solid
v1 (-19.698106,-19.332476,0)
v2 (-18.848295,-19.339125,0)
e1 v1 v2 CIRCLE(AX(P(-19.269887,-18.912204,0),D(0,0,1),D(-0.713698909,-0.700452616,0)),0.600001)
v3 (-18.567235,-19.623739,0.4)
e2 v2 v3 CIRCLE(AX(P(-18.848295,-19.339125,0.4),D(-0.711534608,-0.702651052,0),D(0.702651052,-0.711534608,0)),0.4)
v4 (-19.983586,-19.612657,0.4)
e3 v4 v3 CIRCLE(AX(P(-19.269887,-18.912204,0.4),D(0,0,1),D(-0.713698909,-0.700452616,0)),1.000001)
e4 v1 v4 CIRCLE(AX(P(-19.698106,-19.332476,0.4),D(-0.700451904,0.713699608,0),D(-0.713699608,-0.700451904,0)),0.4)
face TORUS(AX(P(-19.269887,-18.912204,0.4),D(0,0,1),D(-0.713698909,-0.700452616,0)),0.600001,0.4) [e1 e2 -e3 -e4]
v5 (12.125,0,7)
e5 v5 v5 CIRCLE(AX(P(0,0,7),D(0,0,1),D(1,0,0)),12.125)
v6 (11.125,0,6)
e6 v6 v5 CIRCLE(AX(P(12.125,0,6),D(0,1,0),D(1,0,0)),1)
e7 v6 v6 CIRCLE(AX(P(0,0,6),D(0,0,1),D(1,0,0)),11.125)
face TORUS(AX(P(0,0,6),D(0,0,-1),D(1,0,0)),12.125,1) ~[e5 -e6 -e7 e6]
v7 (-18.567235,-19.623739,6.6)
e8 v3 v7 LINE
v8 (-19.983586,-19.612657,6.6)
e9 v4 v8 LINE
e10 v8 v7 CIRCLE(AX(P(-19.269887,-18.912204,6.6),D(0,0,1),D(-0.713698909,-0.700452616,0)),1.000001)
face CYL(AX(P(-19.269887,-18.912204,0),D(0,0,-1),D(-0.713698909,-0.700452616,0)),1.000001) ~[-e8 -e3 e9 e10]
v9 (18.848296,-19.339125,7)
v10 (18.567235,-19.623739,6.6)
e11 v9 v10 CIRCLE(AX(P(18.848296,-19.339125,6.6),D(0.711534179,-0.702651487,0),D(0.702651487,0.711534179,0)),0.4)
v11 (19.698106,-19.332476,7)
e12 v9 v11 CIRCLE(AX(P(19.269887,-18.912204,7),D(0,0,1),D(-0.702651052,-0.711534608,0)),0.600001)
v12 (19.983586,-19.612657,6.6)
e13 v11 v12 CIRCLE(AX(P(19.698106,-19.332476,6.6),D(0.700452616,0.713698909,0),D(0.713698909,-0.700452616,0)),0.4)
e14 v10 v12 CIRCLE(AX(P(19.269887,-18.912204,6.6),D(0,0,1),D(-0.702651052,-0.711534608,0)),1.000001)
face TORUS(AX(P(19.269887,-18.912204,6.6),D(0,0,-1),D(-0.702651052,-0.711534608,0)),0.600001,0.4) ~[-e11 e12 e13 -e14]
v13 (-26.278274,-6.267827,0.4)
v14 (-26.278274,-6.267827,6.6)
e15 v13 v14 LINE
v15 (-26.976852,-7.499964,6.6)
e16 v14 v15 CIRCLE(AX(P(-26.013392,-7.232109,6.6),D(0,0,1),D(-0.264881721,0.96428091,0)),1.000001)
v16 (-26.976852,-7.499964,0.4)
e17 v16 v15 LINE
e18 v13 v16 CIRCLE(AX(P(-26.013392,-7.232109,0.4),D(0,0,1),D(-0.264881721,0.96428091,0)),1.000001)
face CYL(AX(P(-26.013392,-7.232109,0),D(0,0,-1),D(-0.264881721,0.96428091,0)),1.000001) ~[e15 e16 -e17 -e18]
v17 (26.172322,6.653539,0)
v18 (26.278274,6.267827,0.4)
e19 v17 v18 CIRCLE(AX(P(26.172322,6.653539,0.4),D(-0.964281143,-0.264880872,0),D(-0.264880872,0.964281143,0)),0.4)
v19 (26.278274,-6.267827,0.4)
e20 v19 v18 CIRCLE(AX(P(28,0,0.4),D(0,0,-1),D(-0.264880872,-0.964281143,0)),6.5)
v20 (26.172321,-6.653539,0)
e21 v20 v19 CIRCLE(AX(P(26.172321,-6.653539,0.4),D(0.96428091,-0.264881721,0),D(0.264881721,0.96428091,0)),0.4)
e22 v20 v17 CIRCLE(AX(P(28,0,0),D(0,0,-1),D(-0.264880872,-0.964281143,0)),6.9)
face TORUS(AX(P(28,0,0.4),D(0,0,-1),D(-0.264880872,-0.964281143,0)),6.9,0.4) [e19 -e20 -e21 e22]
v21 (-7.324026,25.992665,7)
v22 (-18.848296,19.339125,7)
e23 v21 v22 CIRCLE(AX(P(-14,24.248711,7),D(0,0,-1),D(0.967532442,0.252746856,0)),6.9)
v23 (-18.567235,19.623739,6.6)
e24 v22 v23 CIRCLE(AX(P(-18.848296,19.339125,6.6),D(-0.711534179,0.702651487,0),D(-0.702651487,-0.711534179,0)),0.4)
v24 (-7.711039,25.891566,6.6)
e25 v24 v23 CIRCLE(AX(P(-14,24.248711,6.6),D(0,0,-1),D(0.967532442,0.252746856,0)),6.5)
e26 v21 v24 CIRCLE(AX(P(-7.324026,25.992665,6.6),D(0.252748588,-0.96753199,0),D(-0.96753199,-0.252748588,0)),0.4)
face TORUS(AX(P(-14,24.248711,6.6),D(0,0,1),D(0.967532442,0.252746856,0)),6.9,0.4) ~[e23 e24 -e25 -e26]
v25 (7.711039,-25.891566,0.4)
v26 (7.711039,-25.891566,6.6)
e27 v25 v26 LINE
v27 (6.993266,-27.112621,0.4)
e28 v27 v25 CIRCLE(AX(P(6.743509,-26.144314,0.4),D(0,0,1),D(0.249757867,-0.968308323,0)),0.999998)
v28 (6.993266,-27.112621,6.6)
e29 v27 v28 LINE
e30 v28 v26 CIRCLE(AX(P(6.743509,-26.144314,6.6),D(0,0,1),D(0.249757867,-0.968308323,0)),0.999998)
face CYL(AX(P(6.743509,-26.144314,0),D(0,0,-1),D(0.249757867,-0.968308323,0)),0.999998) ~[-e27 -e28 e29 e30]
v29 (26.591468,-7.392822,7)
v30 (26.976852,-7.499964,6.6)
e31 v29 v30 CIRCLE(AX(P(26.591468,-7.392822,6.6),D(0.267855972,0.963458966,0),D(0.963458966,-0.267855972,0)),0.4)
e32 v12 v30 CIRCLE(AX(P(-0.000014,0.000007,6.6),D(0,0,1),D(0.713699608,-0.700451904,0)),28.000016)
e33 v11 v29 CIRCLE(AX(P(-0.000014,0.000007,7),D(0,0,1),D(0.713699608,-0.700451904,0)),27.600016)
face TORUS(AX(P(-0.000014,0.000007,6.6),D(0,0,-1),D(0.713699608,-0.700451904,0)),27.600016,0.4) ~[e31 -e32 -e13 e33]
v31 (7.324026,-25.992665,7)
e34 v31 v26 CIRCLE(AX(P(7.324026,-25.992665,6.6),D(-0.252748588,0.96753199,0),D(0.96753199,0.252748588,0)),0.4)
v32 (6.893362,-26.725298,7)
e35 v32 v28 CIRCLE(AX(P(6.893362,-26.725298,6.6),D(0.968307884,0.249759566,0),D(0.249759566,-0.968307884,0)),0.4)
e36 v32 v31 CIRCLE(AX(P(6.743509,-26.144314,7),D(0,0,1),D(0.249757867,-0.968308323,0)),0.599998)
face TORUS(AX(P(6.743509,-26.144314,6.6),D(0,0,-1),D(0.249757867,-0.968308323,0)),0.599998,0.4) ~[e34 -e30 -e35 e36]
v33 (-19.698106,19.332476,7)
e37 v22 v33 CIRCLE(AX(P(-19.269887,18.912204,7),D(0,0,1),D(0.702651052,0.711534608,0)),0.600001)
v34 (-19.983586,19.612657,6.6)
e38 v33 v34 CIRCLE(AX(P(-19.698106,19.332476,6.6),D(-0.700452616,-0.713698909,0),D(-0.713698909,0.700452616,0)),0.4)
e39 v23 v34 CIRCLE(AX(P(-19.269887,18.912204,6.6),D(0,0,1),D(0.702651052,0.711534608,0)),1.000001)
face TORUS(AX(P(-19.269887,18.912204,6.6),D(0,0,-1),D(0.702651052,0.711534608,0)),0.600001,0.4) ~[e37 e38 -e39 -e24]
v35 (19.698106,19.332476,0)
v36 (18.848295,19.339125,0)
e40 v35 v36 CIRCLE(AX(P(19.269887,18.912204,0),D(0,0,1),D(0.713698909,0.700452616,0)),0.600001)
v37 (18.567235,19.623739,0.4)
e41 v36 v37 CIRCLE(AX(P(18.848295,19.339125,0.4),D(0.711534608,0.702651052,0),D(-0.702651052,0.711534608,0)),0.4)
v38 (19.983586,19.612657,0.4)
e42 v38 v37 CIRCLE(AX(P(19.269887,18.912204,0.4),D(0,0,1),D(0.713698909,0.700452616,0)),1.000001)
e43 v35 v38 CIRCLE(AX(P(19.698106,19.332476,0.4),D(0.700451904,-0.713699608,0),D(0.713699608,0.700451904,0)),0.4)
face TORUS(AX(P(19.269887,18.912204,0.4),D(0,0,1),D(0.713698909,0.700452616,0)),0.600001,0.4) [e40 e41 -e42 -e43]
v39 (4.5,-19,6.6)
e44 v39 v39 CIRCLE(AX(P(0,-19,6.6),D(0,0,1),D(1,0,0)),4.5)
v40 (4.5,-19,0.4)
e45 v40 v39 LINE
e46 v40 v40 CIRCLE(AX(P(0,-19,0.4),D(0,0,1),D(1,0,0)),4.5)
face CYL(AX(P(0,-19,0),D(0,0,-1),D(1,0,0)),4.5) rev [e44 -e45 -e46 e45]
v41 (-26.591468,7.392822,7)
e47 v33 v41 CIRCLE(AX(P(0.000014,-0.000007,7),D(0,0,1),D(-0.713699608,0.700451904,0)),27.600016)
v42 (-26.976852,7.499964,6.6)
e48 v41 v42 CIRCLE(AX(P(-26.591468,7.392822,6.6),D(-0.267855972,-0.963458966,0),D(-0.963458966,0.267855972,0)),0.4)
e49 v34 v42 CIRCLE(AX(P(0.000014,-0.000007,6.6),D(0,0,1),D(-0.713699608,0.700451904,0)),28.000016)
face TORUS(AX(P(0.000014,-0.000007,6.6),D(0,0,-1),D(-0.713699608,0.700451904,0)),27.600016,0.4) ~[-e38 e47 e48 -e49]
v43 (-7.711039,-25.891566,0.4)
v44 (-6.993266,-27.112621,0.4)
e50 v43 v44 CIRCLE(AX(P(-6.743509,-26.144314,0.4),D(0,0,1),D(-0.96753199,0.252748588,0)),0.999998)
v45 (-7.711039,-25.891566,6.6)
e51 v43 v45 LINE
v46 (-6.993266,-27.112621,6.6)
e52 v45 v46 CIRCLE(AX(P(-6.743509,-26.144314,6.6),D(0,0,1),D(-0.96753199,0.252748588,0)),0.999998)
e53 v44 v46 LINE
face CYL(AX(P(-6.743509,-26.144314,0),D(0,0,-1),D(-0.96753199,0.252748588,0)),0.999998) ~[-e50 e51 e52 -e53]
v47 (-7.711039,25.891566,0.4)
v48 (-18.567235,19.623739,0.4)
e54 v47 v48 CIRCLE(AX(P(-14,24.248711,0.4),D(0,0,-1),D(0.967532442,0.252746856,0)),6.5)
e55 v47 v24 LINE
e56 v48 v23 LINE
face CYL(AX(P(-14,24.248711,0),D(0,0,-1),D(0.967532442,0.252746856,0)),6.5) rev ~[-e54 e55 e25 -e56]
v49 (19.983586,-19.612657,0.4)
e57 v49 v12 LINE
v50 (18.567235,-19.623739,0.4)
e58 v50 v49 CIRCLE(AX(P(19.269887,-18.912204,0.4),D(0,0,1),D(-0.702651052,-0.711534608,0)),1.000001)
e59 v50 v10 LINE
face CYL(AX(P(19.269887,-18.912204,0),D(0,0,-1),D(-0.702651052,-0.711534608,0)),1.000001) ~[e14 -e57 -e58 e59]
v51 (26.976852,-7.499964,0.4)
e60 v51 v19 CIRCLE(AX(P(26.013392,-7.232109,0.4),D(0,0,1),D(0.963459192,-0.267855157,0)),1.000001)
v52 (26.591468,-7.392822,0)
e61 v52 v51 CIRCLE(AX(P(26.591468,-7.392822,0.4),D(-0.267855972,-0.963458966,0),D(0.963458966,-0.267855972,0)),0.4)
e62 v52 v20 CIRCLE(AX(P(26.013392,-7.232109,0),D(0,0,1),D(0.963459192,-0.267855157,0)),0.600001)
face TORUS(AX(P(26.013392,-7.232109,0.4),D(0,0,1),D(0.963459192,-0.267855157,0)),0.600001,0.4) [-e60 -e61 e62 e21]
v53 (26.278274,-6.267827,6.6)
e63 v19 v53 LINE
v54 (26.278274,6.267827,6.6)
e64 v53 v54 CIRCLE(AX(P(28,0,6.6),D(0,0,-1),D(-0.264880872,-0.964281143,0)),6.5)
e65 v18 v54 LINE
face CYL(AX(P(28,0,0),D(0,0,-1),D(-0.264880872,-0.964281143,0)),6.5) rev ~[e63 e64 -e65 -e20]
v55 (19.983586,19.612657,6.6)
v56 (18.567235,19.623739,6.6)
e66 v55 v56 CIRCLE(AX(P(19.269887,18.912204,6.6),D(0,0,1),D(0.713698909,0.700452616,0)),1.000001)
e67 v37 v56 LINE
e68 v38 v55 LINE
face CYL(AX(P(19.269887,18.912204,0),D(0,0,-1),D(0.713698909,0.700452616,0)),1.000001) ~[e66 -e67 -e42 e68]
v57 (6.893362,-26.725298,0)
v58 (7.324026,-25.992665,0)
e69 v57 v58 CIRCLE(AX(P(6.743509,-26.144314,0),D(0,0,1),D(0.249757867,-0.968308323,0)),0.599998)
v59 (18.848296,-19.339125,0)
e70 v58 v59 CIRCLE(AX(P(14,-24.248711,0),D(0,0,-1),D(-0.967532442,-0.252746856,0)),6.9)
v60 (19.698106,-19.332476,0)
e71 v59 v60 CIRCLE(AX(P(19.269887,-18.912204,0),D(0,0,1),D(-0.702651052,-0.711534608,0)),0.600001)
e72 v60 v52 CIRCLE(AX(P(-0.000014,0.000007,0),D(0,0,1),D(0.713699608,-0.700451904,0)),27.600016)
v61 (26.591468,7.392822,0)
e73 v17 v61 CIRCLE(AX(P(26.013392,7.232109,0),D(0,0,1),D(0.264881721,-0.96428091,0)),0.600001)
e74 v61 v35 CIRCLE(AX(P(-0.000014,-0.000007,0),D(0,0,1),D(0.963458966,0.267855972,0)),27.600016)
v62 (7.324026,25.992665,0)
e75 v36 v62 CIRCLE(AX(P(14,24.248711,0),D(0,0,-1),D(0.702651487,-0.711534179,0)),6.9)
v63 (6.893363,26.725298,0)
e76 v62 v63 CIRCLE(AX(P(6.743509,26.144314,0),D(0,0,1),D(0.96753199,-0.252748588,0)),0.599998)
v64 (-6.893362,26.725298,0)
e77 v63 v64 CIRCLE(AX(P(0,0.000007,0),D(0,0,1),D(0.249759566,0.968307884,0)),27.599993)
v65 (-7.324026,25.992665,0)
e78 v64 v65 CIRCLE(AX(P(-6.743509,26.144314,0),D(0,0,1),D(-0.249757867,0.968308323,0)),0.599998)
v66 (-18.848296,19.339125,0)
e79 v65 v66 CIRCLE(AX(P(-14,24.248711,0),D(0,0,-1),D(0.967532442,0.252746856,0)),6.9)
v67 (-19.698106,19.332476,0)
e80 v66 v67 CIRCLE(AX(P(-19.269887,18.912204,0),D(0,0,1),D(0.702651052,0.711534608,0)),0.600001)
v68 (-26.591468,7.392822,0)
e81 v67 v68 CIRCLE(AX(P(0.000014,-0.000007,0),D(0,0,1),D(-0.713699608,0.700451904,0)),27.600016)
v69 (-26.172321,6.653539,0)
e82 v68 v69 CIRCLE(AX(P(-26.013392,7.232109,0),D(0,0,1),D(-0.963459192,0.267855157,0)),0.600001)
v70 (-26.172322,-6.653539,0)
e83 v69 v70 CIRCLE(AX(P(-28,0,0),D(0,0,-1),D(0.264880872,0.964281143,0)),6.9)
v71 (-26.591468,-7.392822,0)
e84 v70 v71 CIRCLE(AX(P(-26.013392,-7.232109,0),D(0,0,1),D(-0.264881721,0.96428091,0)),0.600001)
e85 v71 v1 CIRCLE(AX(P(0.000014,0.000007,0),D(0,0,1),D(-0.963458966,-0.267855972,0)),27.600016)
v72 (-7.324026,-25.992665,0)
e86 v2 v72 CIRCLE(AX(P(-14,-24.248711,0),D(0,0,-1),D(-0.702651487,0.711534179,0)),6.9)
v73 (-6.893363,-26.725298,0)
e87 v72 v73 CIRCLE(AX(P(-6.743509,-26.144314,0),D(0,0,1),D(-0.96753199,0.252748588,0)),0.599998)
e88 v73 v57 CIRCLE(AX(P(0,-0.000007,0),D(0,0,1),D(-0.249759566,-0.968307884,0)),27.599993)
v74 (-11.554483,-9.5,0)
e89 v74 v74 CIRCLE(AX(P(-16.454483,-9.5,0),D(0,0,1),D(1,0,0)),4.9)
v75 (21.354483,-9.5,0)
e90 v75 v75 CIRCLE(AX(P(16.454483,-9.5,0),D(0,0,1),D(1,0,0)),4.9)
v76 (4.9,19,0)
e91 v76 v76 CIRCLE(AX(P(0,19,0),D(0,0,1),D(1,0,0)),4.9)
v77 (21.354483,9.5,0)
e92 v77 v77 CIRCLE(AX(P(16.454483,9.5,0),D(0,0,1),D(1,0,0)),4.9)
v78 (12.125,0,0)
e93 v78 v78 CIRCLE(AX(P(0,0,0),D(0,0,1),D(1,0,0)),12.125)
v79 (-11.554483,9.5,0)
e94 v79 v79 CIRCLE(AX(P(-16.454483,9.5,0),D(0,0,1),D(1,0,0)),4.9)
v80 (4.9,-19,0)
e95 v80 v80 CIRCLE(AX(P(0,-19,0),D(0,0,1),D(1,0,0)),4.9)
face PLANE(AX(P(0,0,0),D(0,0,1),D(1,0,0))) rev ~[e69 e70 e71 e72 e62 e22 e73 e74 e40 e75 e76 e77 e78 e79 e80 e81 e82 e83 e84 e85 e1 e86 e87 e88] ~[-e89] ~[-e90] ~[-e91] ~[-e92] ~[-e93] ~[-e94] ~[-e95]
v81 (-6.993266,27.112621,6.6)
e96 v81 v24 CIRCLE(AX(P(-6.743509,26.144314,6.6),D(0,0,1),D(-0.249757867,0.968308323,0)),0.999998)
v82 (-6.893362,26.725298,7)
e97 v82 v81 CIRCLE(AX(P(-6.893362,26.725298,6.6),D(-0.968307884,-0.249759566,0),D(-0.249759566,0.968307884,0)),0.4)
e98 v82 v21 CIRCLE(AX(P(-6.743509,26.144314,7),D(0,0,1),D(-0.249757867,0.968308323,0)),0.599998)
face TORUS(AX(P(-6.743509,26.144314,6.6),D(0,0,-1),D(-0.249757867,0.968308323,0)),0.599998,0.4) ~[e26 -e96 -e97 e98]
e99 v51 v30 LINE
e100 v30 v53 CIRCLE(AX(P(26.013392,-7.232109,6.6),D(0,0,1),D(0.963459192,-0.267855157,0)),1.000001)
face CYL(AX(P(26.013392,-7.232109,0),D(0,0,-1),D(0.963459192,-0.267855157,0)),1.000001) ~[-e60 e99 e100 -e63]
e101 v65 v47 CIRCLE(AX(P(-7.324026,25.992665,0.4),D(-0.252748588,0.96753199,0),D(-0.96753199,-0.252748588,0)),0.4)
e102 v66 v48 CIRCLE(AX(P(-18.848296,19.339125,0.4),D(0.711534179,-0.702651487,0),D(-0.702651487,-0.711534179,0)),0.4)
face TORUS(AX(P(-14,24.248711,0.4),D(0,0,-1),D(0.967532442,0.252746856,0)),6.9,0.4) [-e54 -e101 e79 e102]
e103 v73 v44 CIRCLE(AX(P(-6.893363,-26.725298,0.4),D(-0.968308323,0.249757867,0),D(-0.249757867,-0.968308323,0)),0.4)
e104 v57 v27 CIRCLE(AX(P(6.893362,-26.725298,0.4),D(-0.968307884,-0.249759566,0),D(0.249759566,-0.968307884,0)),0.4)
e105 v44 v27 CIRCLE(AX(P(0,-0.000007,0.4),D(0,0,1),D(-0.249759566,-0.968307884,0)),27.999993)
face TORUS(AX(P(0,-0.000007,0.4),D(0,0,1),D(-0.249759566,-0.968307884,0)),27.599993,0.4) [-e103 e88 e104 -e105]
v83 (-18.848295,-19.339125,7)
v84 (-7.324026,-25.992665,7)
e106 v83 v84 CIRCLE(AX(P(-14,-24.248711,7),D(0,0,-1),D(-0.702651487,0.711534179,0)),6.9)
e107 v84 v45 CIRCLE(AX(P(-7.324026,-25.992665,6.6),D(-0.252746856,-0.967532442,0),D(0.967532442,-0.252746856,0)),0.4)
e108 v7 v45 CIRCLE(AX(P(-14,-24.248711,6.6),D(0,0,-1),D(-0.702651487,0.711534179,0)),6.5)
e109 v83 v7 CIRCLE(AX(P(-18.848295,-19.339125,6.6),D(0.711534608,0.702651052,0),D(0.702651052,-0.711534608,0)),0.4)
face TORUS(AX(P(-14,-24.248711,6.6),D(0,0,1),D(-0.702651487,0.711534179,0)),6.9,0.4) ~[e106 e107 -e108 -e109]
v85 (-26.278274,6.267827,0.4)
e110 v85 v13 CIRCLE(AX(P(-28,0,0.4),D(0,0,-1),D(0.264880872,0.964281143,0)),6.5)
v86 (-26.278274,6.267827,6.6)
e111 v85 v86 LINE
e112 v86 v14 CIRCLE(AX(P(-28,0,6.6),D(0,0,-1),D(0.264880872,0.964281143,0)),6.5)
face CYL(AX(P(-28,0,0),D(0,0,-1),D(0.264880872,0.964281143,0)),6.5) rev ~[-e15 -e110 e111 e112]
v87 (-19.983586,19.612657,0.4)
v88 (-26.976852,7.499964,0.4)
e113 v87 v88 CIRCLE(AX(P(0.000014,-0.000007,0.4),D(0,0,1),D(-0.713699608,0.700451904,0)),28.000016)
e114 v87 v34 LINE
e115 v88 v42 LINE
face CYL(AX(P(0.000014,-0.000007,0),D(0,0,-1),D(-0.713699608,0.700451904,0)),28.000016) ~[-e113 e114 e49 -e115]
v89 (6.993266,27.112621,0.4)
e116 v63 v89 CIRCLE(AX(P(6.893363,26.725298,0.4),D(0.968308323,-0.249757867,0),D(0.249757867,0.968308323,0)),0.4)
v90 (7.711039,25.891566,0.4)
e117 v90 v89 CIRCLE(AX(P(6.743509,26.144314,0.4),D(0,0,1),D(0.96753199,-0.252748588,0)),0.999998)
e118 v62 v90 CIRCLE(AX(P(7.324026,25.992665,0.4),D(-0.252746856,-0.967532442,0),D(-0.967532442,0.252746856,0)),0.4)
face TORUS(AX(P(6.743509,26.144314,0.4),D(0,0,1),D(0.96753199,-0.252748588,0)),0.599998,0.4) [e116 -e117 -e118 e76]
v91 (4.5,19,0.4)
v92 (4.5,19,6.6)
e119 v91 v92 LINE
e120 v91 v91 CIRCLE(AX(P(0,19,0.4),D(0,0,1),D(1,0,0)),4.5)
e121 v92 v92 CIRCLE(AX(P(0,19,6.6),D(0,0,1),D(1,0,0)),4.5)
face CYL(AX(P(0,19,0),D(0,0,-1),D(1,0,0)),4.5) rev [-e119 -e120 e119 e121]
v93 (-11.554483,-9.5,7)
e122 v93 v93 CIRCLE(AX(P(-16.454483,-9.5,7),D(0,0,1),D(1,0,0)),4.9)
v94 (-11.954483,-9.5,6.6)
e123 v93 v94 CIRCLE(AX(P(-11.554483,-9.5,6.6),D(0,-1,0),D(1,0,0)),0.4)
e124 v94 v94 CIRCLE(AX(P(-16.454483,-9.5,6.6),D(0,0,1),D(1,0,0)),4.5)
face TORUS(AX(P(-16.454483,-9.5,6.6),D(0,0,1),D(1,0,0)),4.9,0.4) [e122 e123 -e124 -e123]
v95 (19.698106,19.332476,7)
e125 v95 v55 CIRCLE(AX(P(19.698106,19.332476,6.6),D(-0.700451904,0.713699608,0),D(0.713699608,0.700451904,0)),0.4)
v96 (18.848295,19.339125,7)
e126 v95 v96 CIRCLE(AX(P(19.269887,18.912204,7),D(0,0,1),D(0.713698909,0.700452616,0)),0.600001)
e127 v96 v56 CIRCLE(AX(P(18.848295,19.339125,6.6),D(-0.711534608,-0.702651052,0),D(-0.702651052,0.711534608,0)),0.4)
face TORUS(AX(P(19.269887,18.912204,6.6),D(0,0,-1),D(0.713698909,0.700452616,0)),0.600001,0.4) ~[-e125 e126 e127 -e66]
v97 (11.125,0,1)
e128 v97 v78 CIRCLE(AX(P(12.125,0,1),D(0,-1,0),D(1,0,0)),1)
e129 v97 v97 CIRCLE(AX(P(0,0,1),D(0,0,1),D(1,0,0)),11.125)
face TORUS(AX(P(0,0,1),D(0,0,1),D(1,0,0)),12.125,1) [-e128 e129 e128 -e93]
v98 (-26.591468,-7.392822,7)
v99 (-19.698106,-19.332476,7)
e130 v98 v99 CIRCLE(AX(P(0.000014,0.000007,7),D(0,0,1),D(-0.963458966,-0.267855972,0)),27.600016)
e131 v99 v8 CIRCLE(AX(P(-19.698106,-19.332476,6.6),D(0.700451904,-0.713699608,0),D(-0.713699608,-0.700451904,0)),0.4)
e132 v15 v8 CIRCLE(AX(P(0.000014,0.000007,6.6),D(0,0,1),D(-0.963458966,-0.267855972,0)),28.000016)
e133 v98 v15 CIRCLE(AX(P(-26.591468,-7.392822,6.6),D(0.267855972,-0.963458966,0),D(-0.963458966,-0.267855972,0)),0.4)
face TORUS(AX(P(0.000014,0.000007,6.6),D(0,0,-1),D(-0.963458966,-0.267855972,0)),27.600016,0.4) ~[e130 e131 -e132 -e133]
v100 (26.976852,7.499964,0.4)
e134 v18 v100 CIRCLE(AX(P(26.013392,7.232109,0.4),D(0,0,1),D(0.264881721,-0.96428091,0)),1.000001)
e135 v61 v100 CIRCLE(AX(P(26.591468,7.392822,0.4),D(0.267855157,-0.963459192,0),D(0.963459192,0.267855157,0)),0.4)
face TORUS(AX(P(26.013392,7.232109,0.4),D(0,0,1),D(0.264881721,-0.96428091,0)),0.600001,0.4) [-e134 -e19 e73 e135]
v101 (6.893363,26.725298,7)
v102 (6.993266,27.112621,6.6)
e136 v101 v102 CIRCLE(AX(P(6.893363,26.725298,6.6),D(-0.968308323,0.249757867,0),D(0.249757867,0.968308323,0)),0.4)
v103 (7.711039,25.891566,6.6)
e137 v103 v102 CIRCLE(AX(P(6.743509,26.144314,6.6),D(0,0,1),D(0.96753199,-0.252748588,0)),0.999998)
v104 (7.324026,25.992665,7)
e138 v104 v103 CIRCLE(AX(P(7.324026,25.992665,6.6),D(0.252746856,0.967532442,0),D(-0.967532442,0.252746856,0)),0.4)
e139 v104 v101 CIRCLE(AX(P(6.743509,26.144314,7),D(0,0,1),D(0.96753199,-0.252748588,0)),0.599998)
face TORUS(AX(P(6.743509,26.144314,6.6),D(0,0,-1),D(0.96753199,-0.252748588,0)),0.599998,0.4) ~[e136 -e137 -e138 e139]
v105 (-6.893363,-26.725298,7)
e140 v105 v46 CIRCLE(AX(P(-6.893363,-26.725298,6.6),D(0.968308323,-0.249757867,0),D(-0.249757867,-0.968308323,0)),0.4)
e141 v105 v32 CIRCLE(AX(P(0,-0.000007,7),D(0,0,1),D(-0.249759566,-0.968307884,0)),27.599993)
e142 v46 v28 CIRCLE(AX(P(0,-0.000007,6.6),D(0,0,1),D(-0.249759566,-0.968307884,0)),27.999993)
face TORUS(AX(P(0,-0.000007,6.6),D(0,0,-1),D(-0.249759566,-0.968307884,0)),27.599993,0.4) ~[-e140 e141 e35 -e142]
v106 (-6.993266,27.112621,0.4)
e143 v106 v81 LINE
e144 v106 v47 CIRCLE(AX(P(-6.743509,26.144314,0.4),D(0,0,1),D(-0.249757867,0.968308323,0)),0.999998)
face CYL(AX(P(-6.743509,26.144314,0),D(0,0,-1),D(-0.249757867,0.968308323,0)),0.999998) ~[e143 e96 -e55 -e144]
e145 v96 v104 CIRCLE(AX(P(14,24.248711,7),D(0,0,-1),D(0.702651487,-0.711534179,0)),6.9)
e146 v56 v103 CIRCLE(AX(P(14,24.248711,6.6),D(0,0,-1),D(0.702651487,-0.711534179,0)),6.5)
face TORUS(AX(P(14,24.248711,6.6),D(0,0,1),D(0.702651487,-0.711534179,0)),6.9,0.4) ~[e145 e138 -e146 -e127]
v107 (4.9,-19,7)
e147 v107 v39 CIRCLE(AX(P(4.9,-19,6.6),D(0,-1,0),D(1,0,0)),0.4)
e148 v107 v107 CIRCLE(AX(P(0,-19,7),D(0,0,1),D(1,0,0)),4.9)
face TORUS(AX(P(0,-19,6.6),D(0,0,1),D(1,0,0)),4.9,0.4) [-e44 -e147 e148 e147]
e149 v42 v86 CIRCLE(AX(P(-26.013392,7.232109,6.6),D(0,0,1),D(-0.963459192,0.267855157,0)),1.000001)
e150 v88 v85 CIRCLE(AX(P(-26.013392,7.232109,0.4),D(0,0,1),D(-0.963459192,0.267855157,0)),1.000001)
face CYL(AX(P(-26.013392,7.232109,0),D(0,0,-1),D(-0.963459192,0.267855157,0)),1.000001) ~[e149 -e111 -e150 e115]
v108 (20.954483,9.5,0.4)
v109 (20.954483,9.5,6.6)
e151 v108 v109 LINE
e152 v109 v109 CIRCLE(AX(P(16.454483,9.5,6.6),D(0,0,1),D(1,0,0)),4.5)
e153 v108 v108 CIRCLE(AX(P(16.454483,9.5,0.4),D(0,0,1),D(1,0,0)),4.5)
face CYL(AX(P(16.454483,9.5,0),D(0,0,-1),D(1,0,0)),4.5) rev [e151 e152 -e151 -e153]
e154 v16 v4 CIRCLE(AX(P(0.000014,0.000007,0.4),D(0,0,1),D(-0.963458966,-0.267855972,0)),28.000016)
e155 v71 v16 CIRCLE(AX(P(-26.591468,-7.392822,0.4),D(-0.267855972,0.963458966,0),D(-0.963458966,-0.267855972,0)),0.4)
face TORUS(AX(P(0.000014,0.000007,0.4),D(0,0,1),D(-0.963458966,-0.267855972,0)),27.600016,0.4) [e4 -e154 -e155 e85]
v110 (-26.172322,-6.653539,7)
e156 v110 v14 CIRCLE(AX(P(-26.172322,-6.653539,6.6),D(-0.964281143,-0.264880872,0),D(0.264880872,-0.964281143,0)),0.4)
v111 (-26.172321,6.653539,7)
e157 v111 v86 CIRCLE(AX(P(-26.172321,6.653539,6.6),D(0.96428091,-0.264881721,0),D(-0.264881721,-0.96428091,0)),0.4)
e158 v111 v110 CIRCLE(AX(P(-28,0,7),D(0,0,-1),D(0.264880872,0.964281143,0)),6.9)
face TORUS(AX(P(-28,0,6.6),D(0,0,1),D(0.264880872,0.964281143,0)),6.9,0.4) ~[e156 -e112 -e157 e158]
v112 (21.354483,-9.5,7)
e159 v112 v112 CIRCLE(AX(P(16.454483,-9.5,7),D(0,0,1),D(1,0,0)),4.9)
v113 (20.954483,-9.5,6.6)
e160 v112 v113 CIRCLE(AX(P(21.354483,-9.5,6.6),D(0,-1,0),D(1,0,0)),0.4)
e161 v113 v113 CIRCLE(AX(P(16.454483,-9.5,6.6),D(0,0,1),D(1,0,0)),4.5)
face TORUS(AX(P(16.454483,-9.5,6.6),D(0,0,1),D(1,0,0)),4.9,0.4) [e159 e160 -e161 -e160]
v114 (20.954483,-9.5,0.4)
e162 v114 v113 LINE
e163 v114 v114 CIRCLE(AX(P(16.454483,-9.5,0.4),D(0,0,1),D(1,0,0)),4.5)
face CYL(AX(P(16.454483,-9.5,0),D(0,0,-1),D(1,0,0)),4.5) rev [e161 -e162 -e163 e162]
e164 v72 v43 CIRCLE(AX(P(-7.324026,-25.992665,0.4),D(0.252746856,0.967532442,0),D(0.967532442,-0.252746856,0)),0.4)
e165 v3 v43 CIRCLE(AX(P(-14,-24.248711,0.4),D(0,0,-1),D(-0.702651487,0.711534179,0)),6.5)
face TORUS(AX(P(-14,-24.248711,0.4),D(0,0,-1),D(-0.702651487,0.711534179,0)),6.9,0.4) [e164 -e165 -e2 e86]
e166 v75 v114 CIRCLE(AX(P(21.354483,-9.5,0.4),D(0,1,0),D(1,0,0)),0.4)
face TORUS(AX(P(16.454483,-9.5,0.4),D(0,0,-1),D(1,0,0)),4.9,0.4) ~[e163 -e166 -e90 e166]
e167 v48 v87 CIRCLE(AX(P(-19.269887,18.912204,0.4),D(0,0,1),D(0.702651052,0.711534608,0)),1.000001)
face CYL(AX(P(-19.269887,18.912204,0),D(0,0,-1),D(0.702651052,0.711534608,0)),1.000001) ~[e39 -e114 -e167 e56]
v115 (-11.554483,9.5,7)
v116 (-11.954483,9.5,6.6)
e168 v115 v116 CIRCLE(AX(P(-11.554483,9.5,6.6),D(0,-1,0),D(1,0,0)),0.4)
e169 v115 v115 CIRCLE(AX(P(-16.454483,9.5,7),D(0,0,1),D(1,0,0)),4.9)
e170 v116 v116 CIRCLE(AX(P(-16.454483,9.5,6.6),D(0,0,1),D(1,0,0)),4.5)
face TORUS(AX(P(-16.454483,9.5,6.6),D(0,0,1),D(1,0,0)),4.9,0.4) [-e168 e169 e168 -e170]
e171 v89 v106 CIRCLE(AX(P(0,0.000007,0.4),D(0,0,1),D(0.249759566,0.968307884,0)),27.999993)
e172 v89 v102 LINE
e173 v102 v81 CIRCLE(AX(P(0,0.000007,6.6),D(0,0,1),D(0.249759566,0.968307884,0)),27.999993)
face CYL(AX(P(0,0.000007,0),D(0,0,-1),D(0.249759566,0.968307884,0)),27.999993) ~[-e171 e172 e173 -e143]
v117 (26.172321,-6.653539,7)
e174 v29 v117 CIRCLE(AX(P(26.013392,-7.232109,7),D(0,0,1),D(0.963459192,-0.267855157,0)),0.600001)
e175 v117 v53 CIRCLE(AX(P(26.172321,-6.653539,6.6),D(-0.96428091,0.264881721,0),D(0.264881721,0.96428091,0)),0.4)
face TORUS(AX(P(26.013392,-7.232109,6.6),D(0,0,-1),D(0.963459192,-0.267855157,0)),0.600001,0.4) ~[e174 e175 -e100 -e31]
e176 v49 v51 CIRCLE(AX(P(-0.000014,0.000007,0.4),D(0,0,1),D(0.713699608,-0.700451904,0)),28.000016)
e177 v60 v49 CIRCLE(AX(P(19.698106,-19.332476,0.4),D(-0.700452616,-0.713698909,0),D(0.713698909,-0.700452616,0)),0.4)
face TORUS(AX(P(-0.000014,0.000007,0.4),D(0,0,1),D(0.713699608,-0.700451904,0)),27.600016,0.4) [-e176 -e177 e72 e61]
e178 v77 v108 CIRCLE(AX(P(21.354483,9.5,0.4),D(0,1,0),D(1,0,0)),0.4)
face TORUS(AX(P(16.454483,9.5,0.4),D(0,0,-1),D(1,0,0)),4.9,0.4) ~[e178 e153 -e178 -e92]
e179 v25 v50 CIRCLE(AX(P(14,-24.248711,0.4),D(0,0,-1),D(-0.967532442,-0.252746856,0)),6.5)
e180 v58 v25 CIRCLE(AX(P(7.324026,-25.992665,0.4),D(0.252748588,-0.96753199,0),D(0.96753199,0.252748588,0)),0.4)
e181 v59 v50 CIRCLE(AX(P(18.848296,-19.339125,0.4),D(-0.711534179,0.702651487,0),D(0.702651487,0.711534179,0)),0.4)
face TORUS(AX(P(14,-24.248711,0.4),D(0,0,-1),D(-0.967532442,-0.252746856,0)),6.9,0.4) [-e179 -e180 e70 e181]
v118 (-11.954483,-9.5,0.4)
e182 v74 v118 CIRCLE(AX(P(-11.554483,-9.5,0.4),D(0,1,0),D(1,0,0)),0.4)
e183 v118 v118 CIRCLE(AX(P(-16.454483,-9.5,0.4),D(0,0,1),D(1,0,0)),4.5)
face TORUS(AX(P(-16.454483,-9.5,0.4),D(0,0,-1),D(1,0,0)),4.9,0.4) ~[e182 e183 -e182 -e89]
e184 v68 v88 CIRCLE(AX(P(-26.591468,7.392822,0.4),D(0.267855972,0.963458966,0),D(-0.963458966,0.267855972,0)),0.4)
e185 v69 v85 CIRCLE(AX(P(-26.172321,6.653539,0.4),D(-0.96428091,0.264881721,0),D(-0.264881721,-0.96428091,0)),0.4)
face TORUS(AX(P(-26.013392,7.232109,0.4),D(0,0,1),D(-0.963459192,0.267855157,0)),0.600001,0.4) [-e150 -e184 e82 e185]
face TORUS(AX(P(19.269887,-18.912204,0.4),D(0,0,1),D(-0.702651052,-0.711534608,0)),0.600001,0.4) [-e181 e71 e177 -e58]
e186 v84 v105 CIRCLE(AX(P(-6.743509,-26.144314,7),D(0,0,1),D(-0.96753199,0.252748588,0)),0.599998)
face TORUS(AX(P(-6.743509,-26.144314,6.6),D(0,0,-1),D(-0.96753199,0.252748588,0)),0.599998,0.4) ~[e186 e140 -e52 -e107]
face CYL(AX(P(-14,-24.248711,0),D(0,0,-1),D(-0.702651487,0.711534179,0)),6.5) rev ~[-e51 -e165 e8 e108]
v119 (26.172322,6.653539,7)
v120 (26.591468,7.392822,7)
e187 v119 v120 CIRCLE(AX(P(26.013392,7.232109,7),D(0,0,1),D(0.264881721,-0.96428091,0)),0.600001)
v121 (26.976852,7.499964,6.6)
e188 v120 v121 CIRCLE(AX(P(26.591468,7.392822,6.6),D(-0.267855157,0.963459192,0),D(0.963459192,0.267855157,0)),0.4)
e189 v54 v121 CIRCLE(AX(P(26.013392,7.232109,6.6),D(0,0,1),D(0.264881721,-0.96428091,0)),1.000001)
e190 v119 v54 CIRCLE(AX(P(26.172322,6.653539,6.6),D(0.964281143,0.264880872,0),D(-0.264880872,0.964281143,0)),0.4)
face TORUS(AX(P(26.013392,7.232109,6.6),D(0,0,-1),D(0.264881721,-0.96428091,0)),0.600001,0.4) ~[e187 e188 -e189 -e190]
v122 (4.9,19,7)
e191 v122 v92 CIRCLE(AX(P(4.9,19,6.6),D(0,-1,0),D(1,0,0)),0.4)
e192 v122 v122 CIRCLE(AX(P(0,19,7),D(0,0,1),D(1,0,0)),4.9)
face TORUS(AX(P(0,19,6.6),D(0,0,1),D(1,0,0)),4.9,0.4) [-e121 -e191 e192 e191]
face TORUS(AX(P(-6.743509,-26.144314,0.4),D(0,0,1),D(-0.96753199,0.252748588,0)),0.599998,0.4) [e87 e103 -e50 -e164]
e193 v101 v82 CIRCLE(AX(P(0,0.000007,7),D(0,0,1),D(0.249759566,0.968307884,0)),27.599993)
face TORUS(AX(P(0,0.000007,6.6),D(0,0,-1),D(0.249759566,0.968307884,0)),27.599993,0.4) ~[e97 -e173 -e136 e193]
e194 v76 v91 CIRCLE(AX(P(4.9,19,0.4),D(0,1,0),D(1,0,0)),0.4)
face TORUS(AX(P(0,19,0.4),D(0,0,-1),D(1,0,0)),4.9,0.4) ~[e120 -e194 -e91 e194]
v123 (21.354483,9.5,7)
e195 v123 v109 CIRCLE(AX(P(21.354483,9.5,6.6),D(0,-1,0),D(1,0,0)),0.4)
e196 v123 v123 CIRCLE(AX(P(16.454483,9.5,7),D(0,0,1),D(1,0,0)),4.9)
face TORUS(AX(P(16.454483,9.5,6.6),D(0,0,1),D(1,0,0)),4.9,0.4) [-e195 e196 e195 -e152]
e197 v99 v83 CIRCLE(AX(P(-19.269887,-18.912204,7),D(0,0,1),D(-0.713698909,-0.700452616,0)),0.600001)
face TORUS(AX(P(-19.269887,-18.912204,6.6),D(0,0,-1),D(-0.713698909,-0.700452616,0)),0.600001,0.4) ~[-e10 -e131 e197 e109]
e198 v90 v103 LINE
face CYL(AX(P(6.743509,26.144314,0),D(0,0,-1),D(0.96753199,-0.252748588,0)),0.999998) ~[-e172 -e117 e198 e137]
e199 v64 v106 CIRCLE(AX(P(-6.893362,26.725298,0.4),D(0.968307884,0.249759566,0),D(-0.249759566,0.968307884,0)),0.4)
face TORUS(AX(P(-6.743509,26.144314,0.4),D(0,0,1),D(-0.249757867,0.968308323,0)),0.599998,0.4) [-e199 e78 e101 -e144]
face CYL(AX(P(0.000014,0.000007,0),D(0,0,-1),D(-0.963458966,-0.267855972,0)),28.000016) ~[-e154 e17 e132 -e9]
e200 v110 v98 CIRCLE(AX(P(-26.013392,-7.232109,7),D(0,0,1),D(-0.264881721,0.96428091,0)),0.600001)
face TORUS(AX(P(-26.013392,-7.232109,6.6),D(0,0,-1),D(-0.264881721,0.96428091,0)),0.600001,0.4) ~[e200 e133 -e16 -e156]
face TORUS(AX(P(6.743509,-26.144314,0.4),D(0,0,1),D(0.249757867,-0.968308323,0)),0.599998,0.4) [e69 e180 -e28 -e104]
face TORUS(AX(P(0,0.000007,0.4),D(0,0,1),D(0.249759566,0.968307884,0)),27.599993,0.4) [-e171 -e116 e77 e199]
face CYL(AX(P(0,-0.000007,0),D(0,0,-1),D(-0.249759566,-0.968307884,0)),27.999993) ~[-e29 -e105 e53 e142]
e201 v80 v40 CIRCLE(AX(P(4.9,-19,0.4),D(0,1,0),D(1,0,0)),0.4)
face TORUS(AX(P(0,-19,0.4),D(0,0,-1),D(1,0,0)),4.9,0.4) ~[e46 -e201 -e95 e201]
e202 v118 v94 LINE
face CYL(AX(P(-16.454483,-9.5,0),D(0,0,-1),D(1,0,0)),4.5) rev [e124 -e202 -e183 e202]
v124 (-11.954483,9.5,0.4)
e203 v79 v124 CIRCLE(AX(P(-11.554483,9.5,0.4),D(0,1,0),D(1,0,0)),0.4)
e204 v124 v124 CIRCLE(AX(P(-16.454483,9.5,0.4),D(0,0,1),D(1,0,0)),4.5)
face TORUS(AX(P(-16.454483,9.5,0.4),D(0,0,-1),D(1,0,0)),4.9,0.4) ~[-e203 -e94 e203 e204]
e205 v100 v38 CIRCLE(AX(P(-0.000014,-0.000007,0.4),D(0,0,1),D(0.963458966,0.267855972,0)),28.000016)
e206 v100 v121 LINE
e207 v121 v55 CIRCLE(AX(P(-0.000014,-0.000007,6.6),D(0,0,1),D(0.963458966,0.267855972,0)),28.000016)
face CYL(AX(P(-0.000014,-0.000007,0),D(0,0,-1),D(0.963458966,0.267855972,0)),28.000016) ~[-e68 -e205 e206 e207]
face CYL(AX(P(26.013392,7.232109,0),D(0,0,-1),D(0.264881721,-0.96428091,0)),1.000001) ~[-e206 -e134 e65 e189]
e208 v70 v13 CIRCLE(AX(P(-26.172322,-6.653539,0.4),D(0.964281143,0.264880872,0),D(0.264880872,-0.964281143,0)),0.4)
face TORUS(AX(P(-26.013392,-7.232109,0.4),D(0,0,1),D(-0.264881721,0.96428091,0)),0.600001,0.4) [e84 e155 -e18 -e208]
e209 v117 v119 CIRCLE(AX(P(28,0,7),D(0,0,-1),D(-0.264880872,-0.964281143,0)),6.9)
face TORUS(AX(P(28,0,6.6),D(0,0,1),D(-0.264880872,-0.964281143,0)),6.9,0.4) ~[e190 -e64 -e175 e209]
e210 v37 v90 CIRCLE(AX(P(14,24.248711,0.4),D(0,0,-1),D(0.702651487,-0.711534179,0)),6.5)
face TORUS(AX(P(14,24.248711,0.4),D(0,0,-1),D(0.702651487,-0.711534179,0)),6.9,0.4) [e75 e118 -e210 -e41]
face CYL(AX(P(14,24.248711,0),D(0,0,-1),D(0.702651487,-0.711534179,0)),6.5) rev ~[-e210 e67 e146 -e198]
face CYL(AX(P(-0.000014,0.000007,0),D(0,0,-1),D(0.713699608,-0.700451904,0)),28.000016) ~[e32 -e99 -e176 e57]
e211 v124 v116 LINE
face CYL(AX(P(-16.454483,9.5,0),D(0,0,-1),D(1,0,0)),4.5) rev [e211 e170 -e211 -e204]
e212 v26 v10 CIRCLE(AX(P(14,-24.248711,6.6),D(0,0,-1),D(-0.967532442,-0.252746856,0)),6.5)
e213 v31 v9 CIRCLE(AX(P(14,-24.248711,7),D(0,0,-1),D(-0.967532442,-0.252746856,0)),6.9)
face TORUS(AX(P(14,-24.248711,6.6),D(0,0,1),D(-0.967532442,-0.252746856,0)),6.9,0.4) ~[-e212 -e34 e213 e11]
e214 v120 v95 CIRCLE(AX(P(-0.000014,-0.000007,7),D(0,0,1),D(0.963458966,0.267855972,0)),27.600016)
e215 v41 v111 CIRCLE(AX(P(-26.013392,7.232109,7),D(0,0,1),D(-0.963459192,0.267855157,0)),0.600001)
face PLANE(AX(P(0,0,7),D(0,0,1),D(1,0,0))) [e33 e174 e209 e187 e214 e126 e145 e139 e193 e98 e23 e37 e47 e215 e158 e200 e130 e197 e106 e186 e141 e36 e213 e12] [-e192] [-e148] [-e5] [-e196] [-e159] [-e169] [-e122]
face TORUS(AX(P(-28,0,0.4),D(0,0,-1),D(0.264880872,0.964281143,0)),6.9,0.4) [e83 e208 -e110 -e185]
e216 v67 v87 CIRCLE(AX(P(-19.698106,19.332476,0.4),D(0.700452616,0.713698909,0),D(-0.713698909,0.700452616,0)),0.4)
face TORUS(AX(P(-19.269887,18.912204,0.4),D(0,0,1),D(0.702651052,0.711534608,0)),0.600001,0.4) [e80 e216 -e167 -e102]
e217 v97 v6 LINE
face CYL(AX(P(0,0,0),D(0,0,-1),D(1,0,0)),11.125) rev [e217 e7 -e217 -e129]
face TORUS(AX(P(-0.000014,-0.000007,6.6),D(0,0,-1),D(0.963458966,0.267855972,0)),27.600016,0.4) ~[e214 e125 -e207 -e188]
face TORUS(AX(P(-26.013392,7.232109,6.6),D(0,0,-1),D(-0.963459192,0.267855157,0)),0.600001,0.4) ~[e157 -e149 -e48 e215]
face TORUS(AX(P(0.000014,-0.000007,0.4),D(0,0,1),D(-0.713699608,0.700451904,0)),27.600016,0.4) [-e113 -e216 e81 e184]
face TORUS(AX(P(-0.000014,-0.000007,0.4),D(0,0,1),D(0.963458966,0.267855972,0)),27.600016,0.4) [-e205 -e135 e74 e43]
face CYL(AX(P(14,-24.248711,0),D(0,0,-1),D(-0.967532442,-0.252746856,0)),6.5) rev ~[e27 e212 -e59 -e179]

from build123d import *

# Parameters (mm, degrees)
F0_R     = 4.5
F0_R_2   = 11.125
F1_DEPTH = 7
F2_R     = 1
F3_R     = 0.4


with BuildPart() as f1:
    # F0 (on Top) → F1 (new body)
    with BuildSketch(Plane.XY):
        with BuildLine():
            ThreePointArc((-18.567235, 19.623739), (-19.27771, 19.912174), (-19.983586, 19.612657))
            ThreePointArc((-19.983586, 19.612657), (-24.248711, 14), (-26.976852, 7.499964))
            ThreePointArc((-26.976852, 7.499964), (-26.883304, 6.7389), (-26.278274, 6.267827))
            ThreePointArc((-26.278274, 6.267827), (-21.5, 0), (-26.278274, -6.267827))
            ThreePointArc((-26.278274, -6.267827), (-26.883304, -6.7389), (-26.976852, -7.499964))
            ThreePointArc((-26.976852, -7.499964), (-24.248711, -14), (-19.983586, -19.612657))
            ThreePointArc((-19.983586, -19.612657), (-19.27771, -19.912174), (-18.567235, -19.623739))
            ThreePointArc((-18.567235, -19.623739), (-10.75, -18.619546), (-7.711039, -25.891566))
            ThreePointArc((-7.711039, -25.891566), (-7.605594, -26.651074), (-6.993266, -27.112621))
            ThreePointArc((-6.993266, -27.112621), (0, -28), (6.993266, -27.112621))
            ThreePointArc((6.993266, -27.112621), (7.605594, -26.651074), (7.711039, -25.891566))
            ThreePointArc((7.711039, -25.891566), (10.75, -18.619546), (18.567235, -19.623739))
            ThreePointArc((18.567235, -19.623739), (19.27771, -19.912174), (19.983586, -19.612657))
            ThreePointArc((19.983586, -19.612657), (24.248711, -14), (26.976852, -7.499964))
            ThreePointArc((26.976852, -7.499964), (26.883304, -6.7389), (26.278274, -6.267827))
            ThreePointArc((26.278274, -6.267827), (21.5, 0), (26.278274, 6.267827))
            ThreePointArc((26.278274, 6.267827), (26.883304, 6.7389), (26.976852, 7.499964))
            ThreePointArc((26.976852, 7.499964), (24.248711, 14), (19.983586, 19.612657))
            ThreePointArc((19.983586, 19.612657), (19.27771, 19.912174), (18.567235, 19.623739))
            ThreePointArc((18.567235, 19.623739), (10.75, 18.619546), (7.711039, 25.891566))
            ThreePointArc((7.711039, 25.891566), (7.605594, 26.651074), (6.993266, 27.112621))
            ThreePointArc((6.993266, 27.112621), (0, 28), (-6.993266, 27.112621))
            ThreePointArc((-6.993266, 27.112621), (-7.605594, 26.651074), (-7.711039, 25.891566))
            ThreePointArc((-7.711039, 25.891566), (-10.75, 18.619546), (-18.567235, 19.623739))
        make_face()
        with Locations((-16.454483, -9.5)):
            Circle(F0_R, mode=Mode.SUBTRACT)
        with Locations((0, -19)):
            Circle(F0_R, mode=Mode.SUBTRACT)
        with Locations((16.454483, -9.5)):
            Circle(F0_R, mode=Mode.SUBTRACT)
        with Locations((-16.454483, 9.5)):
            Circle(F0_R, mode=Mode.SUBTRACT)
        Circle(F0_R_2, mode=Mode.SUBTRACT)
        with Locations((16.454483, 9.5)):
            Circle(F0_R, mode=Mode.SUBTRACT)
        with Locations((0, 19)):
            Circle(F0_R, mode=Mode.SUBTRACT)
    extrude(amount=F1_DEPTH)

    # F2
    f2_edges = [f1.edges().sort_by_distance(p)[0] for p in [
        (11.125, 0, 3.5),
        (-11.125, 0, 0),
        (-11.125, 0, 7),
    ]]
    fillet(f2_edges, radius=F2_R)

    # F3
    f3_edges = [f1.edges().sort_by_distance(p)[0] for p in [
        (-12.125, 0, 7),
        (-24.248711, -14, 7),
        (-19.27771, -19.912174, 7),
        (-10.75, -18.619546, 7),
        (-7.605594, -26.651074, 7),
        (0, -28, 7),
        (7.605594, -26.651074, 7),
        (10.75, -18.619546, 7),
        (19.27771, -19.912174, 7),
        (24.248711, -14, 7),
        (26.883304, -6.7389, 7),
        (21.5, 0, 7),
        (26.883304, 6.7389, 7),
        (24.248711, 14, 7),
        (19.27771, 19.912174, 7),
        (10.75, 18.619546, 7),
        (7.605594, 26.651074, 7),
        (0, 28, 7),
        (-7.605594, 26.651074, 7),
        (-10.75, 18.619546, 7),
        (-19.27771, 19.912174, 7),
        (-24.248711, 14, 7),
        (-26.883304, 6.7389, 7),
        (-21.5, 0, 7),
        (-26.883304, -6.7389, 7),
        (-20.954483, -9.5, 7),
        (-4.5, -19, 7),
        (11.954483, -9.5, 7),
        (-20.954483, 9.5, 7),
        (11.954483, 9.5, 7),
        (-4.5, 19, 7),
        (-12.125, 0, 0),
        (-24.248711, -14, 0),
        (-19.27771, -19.912174, 0),
        (-10.75, -18.619546, 0),
        (-7.605594, -26.651074, 0),
        (0, -28, 0),
        (7.605594, -26.651074, 0),
        (10.75, -18.619546, 0),
        (19.27771, -19.912174, 0),
        (24.248711, -14, 0),
        (26.883304, -6.7389, 0),
        (21.5, 0, 0),
        (26.883304, 6.7389, 0),
        (24.248711, 14, 0),
        (19.27771, 19.912174, 0),
        (10.75, 18.619546, 0),
        (7.605594, 26.651074, 0),
        (0, 28, 0),
        (-7.605594, 26.651074, 0),
        (-10.75, 18.619546, 0),
        (-19.27771, 19.912174, 0),
        (-24.248711, 14, 0),
        (-26.883304, 6.7389, 0),
        (-21.5, 0, 0),
        (-26.883304, -6.7389, 0),
        (-20.954483, -9.5, 0),
        (-4.5, -19, 0),
        (11.954483, -9.5, 0),
        (-20.954483, 9.5, 0),
        (11.954483, 9.5, 0),
        (-4.5, 19, 0),
    ]]
    fillet(f3_edges, radius=F3_R)


solid = f1.part
